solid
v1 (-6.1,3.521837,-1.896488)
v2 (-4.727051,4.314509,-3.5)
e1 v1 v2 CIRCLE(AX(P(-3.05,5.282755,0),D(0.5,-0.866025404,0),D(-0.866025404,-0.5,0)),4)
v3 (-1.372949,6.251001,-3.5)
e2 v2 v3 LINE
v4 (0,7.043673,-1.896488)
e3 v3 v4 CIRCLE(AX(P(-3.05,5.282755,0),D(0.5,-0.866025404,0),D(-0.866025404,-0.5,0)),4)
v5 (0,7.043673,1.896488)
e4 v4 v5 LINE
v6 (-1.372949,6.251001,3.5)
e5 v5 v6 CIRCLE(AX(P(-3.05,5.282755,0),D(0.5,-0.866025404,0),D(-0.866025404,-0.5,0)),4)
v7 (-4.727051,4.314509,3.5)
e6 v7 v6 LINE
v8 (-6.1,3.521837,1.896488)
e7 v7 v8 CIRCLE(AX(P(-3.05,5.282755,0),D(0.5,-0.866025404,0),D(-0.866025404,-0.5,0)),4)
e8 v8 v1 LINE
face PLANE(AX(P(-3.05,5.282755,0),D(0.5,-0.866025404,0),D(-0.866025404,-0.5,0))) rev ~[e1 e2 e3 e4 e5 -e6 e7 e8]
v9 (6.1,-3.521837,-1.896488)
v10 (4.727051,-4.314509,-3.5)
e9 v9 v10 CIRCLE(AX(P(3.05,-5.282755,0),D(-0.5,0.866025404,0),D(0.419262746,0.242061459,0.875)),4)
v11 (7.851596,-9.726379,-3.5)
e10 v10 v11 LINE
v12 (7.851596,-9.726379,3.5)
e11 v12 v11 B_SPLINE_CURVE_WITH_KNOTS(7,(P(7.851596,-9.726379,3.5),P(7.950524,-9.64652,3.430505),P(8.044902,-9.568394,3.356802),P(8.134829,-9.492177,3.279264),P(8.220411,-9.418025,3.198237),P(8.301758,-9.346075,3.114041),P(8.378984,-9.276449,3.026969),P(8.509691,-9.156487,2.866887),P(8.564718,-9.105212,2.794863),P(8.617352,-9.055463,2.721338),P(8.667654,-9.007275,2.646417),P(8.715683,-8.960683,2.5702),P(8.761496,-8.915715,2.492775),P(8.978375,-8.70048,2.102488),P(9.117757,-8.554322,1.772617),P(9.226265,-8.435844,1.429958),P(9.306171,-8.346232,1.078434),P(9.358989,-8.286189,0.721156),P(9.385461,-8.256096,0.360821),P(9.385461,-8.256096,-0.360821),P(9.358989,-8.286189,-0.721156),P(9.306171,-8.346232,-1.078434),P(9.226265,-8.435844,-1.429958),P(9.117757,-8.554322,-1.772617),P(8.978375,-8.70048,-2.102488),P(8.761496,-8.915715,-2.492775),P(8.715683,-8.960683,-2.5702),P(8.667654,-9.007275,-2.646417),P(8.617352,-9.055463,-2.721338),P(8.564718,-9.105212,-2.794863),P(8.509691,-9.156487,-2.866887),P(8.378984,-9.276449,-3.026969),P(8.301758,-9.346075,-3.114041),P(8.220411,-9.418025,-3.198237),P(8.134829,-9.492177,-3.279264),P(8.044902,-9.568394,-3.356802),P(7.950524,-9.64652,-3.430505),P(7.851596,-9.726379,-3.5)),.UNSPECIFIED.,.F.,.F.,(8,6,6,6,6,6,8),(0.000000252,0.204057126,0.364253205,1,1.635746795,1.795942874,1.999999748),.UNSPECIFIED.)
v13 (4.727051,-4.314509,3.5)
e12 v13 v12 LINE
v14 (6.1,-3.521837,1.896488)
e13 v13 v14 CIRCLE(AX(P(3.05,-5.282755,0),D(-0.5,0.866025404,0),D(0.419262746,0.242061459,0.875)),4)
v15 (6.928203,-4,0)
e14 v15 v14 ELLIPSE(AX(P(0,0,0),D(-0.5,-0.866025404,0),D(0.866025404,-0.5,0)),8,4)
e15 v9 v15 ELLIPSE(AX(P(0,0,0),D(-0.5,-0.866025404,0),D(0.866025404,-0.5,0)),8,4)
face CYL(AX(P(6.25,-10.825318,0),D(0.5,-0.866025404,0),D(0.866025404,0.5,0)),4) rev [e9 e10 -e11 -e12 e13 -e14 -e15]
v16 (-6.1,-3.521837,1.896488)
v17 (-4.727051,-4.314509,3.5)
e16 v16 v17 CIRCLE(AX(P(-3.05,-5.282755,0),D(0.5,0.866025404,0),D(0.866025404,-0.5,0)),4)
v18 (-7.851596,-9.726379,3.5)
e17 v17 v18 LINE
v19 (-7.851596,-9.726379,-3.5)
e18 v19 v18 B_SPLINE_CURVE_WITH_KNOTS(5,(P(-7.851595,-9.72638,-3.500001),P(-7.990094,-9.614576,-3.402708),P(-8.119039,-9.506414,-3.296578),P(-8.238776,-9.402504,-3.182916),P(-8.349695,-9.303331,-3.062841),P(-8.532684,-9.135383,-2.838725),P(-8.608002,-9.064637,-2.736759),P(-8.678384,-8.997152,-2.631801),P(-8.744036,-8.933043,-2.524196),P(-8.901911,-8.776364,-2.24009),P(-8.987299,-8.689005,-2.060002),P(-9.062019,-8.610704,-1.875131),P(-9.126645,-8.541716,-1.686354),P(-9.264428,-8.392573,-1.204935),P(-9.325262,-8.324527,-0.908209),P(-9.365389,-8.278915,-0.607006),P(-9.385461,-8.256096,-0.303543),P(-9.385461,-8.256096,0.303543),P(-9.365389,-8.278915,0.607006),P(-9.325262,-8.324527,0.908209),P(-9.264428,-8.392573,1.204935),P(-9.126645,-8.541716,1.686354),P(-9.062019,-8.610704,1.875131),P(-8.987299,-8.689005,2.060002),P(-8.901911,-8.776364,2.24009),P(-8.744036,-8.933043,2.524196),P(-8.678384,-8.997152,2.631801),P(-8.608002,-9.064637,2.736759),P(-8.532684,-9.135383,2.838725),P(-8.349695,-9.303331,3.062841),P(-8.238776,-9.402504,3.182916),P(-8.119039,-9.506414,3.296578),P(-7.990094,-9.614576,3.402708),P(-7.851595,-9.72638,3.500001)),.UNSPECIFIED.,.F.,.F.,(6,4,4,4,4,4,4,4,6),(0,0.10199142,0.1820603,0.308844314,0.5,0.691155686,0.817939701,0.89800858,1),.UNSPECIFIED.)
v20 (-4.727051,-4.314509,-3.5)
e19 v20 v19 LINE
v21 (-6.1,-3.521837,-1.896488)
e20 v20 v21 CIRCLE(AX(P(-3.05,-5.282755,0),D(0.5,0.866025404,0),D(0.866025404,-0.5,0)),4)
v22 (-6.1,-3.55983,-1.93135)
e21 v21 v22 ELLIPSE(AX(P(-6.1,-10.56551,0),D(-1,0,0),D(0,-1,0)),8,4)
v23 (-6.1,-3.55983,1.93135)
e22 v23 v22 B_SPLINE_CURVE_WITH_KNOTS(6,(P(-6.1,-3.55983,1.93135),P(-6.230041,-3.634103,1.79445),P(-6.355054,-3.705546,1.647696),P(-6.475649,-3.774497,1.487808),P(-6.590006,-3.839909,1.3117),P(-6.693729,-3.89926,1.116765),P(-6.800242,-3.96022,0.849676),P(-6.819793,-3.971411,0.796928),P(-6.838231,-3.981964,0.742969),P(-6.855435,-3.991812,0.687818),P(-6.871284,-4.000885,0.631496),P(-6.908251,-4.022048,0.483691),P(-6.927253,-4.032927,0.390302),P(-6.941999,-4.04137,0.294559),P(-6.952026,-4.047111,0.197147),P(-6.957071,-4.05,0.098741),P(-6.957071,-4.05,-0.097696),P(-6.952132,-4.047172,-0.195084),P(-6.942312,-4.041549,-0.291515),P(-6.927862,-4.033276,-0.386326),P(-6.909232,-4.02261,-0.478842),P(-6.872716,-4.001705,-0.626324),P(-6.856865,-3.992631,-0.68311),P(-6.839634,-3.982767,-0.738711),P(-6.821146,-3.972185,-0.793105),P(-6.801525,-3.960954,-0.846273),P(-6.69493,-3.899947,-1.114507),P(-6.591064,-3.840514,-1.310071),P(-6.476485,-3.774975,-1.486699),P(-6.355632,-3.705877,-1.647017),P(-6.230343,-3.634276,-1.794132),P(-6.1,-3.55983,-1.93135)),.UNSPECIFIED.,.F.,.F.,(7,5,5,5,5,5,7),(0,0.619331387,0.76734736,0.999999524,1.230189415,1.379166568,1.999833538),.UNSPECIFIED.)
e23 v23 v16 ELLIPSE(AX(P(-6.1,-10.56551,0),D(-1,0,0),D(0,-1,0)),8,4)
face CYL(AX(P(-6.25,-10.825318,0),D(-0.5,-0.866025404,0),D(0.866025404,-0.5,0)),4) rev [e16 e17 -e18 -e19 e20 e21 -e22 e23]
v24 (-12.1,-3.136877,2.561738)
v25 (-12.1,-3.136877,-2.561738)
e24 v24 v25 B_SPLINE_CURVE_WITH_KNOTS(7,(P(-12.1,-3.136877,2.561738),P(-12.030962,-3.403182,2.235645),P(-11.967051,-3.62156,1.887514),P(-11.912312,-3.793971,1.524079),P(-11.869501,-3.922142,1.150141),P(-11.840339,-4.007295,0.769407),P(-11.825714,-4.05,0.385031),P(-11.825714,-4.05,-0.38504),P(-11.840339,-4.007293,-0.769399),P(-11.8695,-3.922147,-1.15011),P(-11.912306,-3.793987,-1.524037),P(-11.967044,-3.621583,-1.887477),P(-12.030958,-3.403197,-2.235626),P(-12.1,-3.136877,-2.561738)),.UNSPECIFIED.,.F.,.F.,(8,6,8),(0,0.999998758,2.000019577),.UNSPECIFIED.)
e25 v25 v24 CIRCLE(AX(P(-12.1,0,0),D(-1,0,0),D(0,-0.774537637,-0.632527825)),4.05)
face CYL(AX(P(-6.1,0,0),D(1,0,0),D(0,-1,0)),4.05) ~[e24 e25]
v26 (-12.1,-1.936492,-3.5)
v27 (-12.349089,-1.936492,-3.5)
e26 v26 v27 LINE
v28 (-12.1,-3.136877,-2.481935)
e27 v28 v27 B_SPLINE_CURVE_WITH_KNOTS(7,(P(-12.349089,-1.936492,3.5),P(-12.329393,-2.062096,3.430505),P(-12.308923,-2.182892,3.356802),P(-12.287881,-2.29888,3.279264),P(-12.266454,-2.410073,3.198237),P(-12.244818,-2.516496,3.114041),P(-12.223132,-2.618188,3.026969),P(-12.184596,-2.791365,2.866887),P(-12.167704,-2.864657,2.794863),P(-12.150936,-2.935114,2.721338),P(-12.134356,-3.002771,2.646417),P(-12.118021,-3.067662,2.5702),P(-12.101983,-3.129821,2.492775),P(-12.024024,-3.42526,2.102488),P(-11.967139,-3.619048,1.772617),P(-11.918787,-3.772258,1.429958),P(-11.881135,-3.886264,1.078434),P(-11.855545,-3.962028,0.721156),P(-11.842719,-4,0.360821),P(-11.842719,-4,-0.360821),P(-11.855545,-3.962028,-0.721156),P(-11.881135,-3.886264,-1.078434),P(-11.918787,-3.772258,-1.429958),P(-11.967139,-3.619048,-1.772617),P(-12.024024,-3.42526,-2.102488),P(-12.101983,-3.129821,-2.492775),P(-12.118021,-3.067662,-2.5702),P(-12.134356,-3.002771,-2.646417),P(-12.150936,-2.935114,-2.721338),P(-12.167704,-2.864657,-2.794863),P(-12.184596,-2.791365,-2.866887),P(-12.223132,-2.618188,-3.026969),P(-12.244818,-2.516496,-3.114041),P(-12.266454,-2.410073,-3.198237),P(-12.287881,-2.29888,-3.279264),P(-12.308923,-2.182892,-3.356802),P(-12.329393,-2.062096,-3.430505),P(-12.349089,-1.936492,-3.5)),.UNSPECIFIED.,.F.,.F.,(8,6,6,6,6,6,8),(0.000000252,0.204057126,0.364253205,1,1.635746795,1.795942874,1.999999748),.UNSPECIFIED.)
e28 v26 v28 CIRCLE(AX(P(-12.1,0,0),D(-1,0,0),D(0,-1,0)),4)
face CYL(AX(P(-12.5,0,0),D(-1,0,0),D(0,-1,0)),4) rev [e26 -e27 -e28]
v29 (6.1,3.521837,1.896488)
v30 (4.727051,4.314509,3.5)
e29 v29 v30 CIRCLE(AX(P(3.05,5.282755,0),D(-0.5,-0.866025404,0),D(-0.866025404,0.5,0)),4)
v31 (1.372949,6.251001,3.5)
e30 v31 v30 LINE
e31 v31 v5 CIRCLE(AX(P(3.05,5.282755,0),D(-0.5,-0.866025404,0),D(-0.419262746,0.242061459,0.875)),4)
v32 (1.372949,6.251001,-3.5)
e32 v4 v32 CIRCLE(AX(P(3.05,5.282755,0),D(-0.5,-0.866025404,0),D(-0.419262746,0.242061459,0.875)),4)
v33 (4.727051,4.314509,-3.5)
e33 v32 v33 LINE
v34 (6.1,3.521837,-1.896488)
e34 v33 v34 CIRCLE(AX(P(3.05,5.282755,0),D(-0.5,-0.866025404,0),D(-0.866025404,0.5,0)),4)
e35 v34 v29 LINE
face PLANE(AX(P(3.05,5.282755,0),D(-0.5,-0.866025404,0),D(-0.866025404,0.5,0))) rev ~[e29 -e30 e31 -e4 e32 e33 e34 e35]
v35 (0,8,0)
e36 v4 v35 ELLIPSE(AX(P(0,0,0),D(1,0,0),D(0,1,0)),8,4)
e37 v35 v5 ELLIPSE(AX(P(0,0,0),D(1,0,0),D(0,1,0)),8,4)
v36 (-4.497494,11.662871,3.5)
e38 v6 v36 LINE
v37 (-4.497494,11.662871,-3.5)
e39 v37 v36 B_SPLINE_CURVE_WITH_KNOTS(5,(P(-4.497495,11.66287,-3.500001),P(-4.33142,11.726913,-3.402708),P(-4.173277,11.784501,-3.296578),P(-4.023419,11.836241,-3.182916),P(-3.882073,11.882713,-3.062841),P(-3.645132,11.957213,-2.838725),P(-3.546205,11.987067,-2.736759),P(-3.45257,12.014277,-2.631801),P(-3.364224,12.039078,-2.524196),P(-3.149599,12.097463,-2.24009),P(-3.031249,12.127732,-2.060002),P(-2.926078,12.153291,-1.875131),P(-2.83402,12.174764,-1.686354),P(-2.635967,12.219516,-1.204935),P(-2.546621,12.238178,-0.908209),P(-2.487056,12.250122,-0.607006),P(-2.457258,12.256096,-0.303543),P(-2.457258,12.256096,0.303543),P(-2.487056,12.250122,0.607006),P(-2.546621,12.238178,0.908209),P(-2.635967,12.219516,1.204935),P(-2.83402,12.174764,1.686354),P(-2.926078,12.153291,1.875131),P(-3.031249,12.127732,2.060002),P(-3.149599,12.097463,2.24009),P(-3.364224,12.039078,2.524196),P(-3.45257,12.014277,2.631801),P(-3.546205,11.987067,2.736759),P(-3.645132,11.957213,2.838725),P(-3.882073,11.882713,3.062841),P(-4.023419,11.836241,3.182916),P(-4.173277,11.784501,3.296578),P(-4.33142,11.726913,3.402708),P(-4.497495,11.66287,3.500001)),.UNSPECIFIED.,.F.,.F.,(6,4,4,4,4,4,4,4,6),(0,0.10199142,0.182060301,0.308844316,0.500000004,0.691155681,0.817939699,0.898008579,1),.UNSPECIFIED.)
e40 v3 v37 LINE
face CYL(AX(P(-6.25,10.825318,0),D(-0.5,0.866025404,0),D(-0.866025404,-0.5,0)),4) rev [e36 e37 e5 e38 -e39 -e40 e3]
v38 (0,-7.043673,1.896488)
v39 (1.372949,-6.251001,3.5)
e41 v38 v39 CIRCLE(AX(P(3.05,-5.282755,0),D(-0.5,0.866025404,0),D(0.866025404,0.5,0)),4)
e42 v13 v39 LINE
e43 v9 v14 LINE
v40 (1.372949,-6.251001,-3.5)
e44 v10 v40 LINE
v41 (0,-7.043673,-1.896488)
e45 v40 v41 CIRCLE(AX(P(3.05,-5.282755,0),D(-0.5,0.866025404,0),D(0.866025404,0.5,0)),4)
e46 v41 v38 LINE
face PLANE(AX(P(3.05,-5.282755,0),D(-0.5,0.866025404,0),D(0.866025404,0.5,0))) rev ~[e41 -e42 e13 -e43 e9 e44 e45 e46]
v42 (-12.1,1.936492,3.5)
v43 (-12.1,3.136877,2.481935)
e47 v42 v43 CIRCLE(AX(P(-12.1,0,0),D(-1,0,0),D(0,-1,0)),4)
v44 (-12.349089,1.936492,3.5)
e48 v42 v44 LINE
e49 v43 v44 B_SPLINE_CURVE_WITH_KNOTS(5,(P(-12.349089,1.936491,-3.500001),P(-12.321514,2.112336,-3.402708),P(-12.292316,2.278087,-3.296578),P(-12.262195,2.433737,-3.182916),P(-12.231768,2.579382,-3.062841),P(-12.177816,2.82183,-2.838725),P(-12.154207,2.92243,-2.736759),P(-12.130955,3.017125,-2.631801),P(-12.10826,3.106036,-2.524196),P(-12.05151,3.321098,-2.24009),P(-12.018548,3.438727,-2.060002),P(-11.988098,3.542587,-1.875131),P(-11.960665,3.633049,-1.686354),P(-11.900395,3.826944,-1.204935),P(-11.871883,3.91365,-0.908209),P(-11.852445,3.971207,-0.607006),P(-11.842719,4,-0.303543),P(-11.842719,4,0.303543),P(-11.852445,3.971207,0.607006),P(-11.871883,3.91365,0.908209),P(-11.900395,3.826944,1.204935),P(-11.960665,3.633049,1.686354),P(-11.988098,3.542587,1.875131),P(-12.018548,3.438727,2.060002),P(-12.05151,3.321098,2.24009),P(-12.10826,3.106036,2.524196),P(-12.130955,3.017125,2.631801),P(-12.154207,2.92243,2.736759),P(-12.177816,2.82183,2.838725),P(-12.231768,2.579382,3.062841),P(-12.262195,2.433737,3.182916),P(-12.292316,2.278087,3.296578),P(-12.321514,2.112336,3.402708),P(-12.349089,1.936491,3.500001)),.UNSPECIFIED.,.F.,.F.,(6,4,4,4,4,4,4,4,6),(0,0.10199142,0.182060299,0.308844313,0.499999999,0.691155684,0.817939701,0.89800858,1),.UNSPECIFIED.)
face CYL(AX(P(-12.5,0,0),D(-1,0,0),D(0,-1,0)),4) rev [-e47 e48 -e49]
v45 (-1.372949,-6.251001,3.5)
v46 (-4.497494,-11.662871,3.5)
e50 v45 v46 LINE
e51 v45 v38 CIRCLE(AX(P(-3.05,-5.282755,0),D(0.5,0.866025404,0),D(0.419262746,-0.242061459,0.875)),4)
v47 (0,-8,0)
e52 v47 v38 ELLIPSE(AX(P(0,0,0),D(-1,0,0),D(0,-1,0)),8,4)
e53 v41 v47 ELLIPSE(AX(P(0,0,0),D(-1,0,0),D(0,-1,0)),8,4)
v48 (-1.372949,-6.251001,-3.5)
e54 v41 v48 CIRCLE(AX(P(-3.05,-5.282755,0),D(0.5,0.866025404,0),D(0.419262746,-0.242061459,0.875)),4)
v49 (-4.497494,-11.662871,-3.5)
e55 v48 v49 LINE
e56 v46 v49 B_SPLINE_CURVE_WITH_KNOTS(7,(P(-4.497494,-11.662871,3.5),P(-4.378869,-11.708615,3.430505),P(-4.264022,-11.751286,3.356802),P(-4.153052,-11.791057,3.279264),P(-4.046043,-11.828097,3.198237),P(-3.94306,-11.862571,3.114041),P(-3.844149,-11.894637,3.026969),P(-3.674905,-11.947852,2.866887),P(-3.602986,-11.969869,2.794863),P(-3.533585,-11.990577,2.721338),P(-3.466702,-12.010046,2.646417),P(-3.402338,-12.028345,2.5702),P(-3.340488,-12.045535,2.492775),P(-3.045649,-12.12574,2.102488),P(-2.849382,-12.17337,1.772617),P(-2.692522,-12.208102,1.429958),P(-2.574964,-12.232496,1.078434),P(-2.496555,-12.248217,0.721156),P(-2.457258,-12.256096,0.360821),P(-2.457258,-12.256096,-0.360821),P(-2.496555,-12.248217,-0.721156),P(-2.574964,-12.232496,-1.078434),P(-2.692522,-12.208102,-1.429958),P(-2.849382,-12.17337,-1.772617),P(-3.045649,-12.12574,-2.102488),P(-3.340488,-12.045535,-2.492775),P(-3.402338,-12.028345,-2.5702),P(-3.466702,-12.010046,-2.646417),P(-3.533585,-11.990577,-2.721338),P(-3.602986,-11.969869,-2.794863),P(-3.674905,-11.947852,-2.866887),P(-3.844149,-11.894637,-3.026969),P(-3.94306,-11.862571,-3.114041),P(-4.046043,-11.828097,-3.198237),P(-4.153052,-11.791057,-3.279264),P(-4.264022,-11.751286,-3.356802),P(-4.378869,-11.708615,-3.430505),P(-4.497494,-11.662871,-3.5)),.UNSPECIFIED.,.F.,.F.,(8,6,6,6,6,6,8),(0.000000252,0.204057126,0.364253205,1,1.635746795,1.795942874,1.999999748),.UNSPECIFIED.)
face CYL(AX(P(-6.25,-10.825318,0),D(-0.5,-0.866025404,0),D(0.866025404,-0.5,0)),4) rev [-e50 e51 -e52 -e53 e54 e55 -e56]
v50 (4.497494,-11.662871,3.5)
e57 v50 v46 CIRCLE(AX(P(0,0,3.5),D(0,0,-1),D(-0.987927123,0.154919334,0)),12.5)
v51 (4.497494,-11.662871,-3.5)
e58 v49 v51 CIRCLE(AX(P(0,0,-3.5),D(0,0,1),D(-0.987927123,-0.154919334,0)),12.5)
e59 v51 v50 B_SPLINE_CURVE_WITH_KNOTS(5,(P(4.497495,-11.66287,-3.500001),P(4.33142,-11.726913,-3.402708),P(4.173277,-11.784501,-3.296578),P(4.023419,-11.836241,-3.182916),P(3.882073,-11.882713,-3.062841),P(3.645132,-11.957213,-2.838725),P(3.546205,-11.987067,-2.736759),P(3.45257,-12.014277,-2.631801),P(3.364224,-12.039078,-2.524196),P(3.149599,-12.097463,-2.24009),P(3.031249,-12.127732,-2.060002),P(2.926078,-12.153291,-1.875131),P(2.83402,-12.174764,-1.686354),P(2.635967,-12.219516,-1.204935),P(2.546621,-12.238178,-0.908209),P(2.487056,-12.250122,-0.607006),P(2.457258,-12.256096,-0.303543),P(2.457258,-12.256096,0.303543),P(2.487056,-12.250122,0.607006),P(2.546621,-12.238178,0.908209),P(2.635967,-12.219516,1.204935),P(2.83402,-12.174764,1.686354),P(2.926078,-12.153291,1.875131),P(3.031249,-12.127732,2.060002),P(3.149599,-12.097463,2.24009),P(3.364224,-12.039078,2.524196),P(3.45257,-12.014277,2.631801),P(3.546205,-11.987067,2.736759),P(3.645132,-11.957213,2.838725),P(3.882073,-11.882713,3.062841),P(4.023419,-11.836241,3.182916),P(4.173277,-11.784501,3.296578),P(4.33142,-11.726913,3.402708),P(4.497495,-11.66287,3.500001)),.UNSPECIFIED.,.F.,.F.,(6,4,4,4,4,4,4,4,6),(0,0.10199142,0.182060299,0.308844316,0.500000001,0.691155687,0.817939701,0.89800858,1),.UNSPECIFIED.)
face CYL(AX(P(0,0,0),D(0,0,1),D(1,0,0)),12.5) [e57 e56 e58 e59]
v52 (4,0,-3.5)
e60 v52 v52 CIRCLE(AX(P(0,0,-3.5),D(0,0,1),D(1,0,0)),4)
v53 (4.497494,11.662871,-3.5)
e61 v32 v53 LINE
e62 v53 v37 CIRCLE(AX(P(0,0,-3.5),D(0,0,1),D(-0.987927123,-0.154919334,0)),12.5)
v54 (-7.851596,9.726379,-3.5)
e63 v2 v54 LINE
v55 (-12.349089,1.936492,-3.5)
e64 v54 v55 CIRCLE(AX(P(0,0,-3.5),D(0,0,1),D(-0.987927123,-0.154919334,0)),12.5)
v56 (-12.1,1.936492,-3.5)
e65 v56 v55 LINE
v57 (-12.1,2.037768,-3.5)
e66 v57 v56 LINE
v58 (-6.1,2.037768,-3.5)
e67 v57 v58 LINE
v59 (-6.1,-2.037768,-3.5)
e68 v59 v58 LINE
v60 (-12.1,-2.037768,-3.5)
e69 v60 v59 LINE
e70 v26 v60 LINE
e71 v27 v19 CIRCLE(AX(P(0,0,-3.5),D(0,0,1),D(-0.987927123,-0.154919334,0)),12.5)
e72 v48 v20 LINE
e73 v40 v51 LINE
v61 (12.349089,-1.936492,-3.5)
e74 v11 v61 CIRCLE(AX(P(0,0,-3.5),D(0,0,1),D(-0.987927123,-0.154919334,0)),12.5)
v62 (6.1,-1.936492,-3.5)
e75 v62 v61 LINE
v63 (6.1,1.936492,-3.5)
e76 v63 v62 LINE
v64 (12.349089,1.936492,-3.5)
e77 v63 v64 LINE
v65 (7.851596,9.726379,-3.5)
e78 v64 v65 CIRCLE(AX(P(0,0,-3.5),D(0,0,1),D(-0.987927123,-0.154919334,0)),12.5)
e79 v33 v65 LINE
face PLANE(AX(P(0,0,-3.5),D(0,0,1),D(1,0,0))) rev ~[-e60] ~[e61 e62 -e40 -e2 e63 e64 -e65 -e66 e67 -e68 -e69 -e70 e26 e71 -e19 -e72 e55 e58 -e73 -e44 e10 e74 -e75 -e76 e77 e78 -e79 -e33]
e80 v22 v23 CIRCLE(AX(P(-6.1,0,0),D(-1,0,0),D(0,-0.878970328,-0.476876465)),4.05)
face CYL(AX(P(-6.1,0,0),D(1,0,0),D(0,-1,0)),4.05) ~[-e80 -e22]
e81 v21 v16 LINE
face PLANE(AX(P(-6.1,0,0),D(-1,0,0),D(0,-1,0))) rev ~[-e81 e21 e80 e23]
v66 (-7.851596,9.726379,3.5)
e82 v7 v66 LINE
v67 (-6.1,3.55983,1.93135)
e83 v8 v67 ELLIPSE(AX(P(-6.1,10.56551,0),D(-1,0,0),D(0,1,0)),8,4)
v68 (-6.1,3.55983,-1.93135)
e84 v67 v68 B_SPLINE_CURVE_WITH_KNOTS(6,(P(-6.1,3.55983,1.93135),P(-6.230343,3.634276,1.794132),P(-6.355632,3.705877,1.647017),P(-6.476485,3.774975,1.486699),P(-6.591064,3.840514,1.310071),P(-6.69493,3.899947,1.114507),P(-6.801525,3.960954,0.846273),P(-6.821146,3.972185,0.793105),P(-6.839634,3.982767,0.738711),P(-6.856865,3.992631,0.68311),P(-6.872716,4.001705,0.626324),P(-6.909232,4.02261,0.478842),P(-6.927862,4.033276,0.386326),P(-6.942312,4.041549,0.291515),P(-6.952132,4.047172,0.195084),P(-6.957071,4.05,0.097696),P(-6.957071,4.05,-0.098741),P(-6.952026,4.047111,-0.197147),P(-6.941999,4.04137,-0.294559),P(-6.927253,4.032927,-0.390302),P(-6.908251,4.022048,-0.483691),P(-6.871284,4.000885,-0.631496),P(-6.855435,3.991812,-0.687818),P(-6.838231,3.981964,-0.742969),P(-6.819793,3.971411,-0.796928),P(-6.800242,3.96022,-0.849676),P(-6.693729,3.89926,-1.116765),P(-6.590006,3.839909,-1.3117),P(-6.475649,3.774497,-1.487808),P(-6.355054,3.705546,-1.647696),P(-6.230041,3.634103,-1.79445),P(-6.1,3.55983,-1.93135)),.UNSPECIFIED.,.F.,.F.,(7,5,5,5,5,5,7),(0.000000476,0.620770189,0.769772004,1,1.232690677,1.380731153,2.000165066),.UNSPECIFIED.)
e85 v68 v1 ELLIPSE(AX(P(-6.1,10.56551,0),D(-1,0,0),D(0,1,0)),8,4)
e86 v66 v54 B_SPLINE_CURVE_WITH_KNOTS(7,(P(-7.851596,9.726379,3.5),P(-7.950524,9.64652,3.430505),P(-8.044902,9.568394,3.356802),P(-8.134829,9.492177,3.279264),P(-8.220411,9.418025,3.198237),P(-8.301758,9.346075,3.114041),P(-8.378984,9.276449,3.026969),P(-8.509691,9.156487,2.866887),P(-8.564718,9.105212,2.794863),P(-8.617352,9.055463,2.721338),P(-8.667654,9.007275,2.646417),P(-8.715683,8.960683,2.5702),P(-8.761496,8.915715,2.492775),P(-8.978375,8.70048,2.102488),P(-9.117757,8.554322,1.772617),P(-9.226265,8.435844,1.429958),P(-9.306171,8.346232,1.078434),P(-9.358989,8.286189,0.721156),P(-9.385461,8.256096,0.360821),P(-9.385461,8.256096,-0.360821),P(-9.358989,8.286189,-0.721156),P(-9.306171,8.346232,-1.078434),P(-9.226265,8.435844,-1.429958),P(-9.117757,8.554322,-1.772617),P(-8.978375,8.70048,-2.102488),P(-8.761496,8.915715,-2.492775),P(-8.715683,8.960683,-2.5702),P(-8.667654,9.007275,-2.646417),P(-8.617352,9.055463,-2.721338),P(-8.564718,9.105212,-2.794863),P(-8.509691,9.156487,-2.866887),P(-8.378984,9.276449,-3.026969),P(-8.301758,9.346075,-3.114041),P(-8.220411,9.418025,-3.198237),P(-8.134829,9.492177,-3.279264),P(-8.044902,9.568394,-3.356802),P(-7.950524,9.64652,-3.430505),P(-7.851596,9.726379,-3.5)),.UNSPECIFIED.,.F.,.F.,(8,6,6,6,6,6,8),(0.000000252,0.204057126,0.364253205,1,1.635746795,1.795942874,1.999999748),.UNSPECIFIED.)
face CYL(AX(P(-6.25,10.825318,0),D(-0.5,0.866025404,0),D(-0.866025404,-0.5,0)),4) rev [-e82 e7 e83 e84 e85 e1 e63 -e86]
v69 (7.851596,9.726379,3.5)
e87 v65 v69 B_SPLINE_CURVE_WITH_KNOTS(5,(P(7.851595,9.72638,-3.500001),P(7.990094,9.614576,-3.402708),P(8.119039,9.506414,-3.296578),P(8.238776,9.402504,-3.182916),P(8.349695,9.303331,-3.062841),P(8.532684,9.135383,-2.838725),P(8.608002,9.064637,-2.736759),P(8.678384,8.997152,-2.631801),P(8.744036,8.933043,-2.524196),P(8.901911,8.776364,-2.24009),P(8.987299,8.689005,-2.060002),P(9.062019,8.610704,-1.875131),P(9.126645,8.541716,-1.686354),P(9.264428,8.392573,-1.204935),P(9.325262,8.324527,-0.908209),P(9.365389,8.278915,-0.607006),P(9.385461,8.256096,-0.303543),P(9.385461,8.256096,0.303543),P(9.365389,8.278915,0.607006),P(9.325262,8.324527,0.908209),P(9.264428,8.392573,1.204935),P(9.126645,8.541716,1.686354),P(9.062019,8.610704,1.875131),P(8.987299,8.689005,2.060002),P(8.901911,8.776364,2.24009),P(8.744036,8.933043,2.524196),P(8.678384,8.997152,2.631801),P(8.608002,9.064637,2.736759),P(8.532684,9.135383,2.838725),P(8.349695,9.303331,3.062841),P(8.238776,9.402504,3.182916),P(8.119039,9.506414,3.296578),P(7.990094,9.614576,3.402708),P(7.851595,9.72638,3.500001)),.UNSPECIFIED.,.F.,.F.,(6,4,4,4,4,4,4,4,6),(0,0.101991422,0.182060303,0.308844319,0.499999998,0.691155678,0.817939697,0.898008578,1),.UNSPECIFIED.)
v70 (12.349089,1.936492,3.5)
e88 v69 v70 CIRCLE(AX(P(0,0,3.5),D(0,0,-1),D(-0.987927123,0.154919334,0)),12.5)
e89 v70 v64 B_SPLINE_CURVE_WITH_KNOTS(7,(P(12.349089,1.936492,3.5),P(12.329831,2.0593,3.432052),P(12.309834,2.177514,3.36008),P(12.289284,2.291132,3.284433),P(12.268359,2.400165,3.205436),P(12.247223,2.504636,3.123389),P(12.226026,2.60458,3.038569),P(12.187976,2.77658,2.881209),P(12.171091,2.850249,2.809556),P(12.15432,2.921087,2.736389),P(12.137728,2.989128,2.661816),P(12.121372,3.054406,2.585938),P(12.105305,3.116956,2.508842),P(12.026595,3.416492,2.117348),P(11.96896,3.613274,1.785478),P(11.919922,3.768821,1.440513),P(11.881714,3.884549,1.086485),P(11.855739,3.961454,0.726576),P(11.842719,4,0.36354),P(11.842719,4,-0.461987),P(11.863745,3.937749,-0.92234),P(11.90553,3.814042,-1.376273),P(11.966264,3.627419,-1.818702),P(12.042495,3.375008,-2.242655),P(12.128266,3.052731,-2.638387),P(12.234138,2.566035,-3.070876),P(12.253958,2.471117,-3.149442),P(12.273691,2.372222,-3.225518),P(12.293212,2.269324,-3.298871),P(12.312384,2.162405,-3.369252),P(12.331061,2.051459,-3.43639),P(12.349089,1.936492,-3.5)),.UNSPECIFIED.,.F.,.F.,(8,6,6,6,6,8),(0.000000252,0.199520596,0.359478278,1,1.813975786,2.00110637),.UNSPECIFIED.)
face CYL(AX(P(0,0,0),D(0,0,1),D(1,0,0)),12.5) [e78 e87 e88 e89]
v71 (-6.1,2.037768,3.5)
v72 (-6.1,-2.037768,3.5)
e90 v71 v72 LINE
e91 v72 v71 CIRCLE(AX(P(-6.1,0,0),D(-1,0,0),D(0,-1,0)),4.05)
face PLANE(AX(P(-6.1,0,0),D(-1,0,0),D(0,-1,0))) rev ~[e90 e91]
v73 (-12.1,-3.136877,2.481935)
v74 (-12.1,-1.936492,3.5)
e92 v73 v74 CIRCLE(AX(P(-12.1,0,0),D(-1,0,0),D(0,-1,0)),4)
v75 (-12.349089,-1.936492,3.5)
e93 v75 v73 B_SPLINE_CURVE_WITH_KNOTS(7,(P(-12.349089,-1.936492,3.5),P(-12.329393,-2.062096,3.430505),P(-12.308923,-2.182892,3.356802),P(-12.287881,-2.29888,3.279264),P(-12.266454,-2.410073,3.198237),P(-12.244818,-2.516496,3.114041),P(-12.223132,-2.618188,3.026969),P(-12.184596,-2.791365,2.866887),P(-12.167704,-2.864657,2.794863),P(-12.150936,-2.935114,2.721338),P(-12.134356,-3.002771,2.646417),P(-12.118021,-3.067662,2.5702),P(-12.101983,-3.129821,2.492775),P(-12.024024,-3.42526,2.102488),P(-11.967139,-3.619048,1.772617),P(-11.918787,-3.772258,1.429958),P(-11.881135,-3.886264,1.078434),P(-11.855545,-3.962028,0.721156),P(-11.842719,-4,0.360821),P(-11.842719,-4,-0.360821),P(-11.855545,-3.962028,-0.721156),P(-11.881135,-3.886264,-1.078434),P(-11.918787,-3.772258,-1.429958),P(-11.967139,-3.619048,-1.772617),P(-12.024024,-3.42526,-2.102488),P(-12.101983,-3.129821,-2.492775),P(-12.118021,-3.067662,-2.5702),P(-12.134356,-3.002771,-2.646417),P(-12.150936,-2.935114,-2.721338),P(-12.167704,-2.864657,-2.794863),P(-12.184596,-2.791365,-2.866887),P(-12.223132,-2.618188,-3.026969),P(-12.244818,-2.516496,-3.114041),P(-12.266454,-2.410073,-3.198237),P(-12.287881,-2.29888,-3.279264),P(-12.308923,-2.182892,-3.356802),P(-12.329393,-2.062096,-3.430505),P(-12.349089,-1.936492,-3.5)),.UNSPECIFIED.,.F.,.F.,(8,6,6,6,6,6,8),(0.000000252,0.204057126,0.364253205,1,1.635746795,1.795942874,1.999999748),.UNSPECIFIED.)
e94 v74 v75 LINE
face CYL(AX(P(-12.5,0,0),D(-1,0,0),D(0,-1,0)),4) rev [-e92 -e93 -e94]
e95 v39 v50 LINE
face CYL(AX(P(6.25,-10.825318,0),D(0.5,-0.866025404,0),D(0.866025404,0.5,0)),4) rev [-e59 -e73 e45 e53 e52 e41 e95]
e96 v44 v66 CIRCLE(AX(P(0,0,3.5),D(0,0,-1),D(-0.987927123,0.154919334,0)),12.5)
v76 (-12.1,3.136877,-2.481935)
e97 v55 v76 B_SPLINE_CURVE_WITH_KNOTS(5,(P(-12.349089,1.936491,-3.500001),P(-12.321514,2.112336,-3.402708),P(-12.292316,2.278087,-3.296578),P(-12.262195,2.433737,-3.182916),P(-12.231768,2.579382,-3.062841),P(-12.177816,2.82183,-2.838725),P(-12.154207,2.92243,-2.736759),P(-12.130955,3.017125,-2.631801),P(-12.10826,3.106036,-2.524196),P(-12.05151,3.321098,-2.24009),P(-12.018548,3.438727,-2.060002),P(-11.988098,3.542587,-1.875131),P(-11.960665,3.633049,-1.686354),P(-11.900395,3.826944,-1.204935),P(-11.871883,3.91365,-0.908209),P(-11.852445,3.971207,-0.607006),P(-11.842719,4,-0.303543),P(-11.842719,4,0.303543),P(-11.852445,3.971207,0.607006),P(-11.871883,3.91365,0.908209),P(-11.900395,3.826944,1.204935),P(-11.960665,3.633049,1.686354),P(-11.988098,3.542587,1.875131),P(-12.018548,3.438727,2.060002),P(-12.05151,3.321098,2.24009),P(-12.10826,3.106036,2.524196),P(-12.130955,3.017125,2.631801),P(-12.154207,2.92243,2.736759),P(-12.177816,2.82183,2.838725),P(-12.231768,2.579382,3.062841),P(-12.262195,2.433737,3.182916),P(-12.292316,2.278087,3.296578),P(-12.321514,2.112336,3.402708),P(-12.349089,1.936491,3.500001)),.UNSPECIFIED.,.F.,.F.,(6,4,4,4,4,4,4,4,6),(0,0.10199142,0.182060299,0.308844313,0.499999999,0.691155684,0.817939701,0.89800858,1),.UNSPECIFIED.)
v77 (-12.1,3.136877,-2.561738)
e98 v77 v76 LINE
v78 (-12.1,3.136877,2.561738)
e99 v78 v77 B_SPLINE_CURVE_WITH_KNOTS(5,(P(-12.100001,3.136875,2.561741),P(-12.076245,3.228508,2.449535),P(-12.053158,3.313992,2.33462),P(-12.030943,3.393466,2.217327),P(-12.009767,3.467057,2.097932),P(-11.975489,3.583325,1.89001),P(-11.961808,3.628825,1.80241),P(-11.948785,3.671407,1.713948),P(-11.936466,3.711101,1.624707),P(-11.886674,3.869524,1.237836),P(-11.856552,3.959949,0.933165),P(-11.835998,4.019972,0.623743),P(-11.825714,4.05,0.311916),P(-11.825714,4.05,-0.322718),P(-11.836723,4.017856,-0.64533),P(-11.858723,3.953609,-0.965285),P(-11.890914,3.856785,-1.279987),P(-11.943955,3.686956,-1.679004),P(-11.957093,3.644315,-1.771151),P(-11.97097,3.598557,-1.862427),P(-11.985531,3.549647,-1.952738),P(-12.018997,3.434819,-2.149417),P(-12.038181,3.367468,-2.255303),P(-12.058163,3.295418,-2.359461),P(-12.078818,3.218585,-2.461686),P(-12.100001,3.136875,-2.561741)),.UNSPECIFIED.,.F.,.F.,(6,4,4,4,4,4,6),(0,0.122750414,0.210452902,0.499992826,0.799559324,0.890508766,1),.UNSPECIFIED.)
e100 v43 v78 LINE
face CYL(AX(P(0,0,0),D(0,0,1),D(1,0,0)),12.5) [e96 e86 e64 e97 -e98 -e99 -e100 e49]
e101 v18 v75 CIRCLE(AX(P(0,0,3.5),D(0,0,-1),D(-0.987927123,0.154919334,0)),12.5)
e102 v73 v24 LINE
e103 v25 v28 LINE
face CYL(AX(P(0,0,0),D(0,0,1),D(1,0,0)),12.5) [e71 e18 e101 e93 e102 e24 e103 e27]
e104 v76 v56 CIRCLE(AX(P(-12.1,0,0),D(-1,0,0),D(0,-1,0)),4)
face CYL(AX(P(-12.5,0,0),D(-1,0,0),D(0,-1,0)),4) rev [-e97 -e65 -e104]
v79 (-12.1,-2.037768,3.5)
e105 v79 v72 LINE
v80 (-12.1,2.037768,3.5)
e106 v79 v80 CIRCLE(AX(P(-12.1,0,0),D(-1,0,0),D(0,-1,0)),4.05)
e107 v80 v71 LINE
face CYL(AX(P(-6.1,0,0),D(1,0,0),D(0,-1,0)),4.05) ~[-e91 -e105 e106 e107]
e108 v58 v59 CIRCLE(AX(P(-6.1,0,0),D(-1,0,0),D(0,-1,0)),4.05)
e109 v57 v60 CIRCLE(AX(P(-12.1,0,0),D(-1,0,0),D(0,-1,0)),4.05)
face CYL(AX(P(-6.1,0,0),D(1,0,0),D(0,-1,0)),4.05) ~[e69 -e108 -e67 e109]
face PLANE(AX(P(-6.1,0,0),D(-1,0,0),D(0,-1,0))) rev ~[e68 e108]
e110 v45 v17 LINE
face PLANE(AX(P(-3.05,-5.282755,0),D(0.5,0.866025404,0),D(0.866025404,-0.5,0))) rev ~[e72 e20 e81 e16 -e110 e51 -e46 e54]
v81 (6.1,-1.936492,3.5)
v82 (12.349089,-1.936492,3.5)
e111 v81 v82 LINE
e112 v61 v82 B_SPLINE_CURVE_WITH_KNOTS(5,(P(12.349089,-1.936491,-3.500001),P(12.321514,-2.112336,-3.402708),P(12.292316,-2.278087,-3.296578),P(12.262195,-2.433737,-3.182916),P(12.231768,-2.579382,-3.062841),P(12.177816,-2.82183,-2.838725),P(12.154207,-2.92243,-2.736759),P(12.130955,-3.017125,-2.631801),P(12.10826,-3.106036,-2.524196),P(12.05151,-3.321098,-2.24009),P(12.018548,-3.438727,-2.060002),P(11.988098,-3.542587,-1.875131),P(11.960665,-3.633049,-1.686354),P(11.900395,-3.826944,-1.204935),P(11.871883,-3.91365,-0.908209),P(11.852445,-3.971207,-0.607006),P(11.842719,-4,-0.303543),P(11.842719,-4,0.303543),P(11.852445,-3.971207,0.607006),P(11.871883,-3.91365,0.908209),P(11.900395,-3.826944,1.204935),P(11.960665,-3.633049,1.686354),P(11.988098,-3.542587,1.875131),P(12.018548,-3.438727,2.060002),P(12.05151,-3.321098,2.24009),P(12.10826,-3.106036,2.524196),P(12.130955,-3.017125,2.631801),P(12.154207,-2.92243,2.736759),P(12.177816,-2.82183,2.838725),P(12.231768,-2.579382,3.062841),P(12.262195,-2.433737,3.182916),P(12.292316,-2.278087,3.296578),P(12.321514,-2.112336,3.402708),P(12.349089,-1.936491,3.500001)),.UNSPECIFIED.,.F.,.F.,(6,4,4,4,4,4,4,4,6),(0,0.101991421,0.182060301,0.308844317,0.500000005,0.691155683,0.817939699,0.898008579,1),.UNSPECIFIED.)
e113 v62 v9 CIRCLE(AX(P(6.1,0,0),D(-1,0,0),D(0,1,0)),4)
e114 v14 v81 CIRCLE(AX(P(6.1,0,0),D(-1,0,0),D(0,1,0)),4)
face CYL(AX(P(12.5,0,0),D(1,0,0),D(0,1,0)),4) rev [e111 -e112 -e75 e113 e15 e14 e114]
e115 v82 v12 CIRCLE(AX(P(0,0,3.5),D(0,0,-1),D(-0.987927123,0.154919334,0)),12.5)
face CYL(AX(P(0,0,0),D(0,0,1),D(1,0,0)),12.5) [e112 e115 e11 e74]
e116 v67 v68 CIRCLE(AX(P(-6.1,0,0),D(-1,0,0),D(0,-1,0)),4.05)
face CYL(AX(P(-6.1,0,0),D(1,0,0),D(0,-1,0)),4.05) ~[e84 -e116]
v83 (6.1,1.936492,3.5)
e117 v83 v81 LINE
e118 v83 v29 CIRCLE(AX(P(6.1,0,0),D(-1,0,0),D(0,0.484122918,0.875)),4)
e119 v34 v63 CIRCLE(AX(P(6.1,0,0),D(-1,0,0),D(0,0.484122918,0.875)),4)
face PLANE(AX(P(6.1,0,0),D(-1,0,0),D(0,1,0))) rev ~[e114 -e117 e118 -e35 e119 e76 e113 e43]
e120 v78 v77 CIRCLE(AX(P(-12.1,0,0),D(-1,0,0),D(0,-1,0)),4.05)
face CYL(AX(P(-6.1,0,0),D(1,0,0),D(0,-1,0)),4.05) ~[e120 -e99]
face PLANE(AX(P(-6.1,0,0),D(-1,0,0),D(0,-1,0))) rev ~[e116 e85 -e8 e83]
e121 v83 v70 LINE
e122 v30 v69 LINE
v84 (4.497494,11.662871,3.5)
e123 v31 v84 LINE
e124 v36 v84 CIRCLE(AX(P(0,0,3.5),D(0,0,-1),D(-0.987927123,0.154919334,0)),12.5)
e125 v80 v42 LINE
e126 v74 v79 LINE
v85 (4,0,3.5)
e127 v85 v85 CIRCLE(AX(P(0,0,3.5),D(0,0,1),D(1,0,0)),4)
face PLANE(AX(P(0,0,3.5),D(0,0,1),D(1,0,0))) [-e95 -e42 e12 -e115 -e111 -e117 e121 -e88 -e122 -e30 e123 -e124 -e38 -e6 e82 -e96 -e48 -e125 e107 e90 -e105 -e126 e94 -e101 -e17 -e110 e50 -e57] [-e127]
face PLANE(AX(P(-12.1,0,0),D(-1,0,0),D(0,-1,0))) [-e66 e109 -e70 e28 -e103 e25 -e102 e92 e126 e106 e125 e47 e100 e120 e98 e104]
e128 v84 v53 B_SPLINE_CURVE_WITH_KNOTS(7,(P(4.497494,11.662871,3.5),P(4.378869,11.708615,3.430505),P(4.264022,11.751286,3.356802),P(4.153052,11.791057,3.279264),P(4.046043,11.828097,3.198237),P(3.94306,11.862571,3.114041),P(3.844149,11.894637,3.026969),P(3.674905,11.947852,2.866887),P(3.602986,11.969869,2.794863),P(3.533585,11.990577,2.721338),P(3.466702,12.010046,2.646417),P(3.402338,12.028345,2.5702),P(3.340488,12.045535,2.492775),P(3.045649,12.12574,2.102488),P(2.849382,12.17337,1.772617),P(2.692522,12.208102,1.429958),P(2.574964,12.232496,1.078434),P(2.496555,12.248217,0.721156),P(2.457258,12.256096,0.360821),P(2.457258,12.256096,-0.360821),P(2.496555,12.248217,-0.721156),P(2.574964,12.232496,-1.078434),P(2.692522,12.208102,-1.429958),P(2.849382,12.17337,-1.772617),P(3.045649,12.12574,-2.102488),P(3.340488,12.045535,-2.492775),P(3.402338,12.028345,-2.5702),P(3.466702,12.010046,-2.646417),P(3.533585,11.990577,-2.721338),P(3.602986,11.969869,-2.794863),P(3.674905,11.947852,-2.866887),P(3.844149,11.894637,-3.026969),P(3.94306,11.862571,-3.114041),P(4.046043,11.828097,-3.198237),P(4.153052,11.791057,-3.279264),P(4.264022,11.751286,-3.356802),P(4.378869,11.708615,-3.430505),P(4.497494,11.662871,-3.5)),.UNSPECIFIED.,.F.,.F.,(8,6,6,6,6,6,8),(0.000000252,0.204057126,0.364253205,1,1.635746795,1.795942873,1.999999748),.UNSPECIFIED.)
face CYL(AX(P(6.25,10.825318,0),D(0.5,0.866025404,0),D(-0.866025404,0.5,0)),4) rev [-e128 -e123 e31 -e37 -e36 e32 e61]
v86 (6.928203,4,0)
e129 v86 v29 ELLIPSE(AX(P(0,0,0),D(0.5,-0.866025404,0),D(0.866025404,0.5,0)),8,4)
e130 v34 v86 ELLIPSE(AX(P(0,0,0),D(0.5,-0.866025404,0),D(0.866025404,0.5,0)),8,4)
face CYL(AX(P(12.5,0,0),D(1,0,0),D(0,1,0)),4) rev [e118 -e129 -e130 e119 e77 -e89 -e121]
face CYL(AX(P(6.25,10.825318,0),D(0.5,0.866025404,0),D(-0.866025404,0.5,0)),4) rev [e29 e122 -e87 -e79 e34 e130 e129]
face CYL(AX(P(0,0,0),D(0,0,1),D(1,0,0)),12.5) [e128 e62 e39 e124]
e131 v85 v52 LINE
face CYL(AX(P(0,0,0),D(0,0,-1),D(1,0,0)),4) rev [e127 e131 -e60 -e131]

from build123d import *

# Parameters (mm, degrees)
SKETCH1_R           = 12.5
SKETCH1_R_2         = 4
BOSS_EXTRUDE1_DEPTH = 3.5
SKETCH2_R           = 4
CUT_EXTRUDE3_DEPTH  = 6.4
CIRPATTERN1_COUNT   = 6
SKETCH3_R           = 4.05
BOSS_EXTRUDE2_DEPTH = 6


with BuildPart() as part:
    # Sketch1 → Boss-Extrude1 (new, symmetric)
    with BuildSketch(Plane.XY):
        Circle(SKETCH1_R)
        Circle(SKETCH1_R_2, mode=Mode.SUBTRACT)
    extrude(amount=BOSS_EXTRUDE1_DEPTH, both=True)

    # Sketch2 → Cut-Extrude3 (cut)
    with BuildSketch(Plane(origin=(-12.5, -17.193061184, 0), x_dir=(0, -1, 0), z_dir=(1, 0, 0))):
        with Locations((-17.193061184, 0)):
            Circle(SKETCH2_R)
    cut_extrude3 = extrude(amount=CUT_EXTRUDE3_DEPTH, mode=Mode.SUBTRACT)

    # CirPattern1: Cut-Extrude3 ×6 about axis
    cirpattern1_axis = Axis((0, 0, 3.5), (0, 0, 1))
    for i in range(1, CIRPATTERN1_COUNT):
        add(cut_extrude3.rotate(cirpattern1_axis, i * 360 / CIRPATTERN1_COUNT), mode=Mode.SUBTRACT)

    # Sketch3 → Boss-Extrude2 (add)
    with BuildSketch(Plane(origin=(-6.1, 0, 0), x_dir=(0, -1, 0), z_dir=(-1, 0, 0))):
        Circle(SKETCH3_R)
    extrude(amount=BOSS_EXTRUDE2_DEPTH)


solid = part.part
